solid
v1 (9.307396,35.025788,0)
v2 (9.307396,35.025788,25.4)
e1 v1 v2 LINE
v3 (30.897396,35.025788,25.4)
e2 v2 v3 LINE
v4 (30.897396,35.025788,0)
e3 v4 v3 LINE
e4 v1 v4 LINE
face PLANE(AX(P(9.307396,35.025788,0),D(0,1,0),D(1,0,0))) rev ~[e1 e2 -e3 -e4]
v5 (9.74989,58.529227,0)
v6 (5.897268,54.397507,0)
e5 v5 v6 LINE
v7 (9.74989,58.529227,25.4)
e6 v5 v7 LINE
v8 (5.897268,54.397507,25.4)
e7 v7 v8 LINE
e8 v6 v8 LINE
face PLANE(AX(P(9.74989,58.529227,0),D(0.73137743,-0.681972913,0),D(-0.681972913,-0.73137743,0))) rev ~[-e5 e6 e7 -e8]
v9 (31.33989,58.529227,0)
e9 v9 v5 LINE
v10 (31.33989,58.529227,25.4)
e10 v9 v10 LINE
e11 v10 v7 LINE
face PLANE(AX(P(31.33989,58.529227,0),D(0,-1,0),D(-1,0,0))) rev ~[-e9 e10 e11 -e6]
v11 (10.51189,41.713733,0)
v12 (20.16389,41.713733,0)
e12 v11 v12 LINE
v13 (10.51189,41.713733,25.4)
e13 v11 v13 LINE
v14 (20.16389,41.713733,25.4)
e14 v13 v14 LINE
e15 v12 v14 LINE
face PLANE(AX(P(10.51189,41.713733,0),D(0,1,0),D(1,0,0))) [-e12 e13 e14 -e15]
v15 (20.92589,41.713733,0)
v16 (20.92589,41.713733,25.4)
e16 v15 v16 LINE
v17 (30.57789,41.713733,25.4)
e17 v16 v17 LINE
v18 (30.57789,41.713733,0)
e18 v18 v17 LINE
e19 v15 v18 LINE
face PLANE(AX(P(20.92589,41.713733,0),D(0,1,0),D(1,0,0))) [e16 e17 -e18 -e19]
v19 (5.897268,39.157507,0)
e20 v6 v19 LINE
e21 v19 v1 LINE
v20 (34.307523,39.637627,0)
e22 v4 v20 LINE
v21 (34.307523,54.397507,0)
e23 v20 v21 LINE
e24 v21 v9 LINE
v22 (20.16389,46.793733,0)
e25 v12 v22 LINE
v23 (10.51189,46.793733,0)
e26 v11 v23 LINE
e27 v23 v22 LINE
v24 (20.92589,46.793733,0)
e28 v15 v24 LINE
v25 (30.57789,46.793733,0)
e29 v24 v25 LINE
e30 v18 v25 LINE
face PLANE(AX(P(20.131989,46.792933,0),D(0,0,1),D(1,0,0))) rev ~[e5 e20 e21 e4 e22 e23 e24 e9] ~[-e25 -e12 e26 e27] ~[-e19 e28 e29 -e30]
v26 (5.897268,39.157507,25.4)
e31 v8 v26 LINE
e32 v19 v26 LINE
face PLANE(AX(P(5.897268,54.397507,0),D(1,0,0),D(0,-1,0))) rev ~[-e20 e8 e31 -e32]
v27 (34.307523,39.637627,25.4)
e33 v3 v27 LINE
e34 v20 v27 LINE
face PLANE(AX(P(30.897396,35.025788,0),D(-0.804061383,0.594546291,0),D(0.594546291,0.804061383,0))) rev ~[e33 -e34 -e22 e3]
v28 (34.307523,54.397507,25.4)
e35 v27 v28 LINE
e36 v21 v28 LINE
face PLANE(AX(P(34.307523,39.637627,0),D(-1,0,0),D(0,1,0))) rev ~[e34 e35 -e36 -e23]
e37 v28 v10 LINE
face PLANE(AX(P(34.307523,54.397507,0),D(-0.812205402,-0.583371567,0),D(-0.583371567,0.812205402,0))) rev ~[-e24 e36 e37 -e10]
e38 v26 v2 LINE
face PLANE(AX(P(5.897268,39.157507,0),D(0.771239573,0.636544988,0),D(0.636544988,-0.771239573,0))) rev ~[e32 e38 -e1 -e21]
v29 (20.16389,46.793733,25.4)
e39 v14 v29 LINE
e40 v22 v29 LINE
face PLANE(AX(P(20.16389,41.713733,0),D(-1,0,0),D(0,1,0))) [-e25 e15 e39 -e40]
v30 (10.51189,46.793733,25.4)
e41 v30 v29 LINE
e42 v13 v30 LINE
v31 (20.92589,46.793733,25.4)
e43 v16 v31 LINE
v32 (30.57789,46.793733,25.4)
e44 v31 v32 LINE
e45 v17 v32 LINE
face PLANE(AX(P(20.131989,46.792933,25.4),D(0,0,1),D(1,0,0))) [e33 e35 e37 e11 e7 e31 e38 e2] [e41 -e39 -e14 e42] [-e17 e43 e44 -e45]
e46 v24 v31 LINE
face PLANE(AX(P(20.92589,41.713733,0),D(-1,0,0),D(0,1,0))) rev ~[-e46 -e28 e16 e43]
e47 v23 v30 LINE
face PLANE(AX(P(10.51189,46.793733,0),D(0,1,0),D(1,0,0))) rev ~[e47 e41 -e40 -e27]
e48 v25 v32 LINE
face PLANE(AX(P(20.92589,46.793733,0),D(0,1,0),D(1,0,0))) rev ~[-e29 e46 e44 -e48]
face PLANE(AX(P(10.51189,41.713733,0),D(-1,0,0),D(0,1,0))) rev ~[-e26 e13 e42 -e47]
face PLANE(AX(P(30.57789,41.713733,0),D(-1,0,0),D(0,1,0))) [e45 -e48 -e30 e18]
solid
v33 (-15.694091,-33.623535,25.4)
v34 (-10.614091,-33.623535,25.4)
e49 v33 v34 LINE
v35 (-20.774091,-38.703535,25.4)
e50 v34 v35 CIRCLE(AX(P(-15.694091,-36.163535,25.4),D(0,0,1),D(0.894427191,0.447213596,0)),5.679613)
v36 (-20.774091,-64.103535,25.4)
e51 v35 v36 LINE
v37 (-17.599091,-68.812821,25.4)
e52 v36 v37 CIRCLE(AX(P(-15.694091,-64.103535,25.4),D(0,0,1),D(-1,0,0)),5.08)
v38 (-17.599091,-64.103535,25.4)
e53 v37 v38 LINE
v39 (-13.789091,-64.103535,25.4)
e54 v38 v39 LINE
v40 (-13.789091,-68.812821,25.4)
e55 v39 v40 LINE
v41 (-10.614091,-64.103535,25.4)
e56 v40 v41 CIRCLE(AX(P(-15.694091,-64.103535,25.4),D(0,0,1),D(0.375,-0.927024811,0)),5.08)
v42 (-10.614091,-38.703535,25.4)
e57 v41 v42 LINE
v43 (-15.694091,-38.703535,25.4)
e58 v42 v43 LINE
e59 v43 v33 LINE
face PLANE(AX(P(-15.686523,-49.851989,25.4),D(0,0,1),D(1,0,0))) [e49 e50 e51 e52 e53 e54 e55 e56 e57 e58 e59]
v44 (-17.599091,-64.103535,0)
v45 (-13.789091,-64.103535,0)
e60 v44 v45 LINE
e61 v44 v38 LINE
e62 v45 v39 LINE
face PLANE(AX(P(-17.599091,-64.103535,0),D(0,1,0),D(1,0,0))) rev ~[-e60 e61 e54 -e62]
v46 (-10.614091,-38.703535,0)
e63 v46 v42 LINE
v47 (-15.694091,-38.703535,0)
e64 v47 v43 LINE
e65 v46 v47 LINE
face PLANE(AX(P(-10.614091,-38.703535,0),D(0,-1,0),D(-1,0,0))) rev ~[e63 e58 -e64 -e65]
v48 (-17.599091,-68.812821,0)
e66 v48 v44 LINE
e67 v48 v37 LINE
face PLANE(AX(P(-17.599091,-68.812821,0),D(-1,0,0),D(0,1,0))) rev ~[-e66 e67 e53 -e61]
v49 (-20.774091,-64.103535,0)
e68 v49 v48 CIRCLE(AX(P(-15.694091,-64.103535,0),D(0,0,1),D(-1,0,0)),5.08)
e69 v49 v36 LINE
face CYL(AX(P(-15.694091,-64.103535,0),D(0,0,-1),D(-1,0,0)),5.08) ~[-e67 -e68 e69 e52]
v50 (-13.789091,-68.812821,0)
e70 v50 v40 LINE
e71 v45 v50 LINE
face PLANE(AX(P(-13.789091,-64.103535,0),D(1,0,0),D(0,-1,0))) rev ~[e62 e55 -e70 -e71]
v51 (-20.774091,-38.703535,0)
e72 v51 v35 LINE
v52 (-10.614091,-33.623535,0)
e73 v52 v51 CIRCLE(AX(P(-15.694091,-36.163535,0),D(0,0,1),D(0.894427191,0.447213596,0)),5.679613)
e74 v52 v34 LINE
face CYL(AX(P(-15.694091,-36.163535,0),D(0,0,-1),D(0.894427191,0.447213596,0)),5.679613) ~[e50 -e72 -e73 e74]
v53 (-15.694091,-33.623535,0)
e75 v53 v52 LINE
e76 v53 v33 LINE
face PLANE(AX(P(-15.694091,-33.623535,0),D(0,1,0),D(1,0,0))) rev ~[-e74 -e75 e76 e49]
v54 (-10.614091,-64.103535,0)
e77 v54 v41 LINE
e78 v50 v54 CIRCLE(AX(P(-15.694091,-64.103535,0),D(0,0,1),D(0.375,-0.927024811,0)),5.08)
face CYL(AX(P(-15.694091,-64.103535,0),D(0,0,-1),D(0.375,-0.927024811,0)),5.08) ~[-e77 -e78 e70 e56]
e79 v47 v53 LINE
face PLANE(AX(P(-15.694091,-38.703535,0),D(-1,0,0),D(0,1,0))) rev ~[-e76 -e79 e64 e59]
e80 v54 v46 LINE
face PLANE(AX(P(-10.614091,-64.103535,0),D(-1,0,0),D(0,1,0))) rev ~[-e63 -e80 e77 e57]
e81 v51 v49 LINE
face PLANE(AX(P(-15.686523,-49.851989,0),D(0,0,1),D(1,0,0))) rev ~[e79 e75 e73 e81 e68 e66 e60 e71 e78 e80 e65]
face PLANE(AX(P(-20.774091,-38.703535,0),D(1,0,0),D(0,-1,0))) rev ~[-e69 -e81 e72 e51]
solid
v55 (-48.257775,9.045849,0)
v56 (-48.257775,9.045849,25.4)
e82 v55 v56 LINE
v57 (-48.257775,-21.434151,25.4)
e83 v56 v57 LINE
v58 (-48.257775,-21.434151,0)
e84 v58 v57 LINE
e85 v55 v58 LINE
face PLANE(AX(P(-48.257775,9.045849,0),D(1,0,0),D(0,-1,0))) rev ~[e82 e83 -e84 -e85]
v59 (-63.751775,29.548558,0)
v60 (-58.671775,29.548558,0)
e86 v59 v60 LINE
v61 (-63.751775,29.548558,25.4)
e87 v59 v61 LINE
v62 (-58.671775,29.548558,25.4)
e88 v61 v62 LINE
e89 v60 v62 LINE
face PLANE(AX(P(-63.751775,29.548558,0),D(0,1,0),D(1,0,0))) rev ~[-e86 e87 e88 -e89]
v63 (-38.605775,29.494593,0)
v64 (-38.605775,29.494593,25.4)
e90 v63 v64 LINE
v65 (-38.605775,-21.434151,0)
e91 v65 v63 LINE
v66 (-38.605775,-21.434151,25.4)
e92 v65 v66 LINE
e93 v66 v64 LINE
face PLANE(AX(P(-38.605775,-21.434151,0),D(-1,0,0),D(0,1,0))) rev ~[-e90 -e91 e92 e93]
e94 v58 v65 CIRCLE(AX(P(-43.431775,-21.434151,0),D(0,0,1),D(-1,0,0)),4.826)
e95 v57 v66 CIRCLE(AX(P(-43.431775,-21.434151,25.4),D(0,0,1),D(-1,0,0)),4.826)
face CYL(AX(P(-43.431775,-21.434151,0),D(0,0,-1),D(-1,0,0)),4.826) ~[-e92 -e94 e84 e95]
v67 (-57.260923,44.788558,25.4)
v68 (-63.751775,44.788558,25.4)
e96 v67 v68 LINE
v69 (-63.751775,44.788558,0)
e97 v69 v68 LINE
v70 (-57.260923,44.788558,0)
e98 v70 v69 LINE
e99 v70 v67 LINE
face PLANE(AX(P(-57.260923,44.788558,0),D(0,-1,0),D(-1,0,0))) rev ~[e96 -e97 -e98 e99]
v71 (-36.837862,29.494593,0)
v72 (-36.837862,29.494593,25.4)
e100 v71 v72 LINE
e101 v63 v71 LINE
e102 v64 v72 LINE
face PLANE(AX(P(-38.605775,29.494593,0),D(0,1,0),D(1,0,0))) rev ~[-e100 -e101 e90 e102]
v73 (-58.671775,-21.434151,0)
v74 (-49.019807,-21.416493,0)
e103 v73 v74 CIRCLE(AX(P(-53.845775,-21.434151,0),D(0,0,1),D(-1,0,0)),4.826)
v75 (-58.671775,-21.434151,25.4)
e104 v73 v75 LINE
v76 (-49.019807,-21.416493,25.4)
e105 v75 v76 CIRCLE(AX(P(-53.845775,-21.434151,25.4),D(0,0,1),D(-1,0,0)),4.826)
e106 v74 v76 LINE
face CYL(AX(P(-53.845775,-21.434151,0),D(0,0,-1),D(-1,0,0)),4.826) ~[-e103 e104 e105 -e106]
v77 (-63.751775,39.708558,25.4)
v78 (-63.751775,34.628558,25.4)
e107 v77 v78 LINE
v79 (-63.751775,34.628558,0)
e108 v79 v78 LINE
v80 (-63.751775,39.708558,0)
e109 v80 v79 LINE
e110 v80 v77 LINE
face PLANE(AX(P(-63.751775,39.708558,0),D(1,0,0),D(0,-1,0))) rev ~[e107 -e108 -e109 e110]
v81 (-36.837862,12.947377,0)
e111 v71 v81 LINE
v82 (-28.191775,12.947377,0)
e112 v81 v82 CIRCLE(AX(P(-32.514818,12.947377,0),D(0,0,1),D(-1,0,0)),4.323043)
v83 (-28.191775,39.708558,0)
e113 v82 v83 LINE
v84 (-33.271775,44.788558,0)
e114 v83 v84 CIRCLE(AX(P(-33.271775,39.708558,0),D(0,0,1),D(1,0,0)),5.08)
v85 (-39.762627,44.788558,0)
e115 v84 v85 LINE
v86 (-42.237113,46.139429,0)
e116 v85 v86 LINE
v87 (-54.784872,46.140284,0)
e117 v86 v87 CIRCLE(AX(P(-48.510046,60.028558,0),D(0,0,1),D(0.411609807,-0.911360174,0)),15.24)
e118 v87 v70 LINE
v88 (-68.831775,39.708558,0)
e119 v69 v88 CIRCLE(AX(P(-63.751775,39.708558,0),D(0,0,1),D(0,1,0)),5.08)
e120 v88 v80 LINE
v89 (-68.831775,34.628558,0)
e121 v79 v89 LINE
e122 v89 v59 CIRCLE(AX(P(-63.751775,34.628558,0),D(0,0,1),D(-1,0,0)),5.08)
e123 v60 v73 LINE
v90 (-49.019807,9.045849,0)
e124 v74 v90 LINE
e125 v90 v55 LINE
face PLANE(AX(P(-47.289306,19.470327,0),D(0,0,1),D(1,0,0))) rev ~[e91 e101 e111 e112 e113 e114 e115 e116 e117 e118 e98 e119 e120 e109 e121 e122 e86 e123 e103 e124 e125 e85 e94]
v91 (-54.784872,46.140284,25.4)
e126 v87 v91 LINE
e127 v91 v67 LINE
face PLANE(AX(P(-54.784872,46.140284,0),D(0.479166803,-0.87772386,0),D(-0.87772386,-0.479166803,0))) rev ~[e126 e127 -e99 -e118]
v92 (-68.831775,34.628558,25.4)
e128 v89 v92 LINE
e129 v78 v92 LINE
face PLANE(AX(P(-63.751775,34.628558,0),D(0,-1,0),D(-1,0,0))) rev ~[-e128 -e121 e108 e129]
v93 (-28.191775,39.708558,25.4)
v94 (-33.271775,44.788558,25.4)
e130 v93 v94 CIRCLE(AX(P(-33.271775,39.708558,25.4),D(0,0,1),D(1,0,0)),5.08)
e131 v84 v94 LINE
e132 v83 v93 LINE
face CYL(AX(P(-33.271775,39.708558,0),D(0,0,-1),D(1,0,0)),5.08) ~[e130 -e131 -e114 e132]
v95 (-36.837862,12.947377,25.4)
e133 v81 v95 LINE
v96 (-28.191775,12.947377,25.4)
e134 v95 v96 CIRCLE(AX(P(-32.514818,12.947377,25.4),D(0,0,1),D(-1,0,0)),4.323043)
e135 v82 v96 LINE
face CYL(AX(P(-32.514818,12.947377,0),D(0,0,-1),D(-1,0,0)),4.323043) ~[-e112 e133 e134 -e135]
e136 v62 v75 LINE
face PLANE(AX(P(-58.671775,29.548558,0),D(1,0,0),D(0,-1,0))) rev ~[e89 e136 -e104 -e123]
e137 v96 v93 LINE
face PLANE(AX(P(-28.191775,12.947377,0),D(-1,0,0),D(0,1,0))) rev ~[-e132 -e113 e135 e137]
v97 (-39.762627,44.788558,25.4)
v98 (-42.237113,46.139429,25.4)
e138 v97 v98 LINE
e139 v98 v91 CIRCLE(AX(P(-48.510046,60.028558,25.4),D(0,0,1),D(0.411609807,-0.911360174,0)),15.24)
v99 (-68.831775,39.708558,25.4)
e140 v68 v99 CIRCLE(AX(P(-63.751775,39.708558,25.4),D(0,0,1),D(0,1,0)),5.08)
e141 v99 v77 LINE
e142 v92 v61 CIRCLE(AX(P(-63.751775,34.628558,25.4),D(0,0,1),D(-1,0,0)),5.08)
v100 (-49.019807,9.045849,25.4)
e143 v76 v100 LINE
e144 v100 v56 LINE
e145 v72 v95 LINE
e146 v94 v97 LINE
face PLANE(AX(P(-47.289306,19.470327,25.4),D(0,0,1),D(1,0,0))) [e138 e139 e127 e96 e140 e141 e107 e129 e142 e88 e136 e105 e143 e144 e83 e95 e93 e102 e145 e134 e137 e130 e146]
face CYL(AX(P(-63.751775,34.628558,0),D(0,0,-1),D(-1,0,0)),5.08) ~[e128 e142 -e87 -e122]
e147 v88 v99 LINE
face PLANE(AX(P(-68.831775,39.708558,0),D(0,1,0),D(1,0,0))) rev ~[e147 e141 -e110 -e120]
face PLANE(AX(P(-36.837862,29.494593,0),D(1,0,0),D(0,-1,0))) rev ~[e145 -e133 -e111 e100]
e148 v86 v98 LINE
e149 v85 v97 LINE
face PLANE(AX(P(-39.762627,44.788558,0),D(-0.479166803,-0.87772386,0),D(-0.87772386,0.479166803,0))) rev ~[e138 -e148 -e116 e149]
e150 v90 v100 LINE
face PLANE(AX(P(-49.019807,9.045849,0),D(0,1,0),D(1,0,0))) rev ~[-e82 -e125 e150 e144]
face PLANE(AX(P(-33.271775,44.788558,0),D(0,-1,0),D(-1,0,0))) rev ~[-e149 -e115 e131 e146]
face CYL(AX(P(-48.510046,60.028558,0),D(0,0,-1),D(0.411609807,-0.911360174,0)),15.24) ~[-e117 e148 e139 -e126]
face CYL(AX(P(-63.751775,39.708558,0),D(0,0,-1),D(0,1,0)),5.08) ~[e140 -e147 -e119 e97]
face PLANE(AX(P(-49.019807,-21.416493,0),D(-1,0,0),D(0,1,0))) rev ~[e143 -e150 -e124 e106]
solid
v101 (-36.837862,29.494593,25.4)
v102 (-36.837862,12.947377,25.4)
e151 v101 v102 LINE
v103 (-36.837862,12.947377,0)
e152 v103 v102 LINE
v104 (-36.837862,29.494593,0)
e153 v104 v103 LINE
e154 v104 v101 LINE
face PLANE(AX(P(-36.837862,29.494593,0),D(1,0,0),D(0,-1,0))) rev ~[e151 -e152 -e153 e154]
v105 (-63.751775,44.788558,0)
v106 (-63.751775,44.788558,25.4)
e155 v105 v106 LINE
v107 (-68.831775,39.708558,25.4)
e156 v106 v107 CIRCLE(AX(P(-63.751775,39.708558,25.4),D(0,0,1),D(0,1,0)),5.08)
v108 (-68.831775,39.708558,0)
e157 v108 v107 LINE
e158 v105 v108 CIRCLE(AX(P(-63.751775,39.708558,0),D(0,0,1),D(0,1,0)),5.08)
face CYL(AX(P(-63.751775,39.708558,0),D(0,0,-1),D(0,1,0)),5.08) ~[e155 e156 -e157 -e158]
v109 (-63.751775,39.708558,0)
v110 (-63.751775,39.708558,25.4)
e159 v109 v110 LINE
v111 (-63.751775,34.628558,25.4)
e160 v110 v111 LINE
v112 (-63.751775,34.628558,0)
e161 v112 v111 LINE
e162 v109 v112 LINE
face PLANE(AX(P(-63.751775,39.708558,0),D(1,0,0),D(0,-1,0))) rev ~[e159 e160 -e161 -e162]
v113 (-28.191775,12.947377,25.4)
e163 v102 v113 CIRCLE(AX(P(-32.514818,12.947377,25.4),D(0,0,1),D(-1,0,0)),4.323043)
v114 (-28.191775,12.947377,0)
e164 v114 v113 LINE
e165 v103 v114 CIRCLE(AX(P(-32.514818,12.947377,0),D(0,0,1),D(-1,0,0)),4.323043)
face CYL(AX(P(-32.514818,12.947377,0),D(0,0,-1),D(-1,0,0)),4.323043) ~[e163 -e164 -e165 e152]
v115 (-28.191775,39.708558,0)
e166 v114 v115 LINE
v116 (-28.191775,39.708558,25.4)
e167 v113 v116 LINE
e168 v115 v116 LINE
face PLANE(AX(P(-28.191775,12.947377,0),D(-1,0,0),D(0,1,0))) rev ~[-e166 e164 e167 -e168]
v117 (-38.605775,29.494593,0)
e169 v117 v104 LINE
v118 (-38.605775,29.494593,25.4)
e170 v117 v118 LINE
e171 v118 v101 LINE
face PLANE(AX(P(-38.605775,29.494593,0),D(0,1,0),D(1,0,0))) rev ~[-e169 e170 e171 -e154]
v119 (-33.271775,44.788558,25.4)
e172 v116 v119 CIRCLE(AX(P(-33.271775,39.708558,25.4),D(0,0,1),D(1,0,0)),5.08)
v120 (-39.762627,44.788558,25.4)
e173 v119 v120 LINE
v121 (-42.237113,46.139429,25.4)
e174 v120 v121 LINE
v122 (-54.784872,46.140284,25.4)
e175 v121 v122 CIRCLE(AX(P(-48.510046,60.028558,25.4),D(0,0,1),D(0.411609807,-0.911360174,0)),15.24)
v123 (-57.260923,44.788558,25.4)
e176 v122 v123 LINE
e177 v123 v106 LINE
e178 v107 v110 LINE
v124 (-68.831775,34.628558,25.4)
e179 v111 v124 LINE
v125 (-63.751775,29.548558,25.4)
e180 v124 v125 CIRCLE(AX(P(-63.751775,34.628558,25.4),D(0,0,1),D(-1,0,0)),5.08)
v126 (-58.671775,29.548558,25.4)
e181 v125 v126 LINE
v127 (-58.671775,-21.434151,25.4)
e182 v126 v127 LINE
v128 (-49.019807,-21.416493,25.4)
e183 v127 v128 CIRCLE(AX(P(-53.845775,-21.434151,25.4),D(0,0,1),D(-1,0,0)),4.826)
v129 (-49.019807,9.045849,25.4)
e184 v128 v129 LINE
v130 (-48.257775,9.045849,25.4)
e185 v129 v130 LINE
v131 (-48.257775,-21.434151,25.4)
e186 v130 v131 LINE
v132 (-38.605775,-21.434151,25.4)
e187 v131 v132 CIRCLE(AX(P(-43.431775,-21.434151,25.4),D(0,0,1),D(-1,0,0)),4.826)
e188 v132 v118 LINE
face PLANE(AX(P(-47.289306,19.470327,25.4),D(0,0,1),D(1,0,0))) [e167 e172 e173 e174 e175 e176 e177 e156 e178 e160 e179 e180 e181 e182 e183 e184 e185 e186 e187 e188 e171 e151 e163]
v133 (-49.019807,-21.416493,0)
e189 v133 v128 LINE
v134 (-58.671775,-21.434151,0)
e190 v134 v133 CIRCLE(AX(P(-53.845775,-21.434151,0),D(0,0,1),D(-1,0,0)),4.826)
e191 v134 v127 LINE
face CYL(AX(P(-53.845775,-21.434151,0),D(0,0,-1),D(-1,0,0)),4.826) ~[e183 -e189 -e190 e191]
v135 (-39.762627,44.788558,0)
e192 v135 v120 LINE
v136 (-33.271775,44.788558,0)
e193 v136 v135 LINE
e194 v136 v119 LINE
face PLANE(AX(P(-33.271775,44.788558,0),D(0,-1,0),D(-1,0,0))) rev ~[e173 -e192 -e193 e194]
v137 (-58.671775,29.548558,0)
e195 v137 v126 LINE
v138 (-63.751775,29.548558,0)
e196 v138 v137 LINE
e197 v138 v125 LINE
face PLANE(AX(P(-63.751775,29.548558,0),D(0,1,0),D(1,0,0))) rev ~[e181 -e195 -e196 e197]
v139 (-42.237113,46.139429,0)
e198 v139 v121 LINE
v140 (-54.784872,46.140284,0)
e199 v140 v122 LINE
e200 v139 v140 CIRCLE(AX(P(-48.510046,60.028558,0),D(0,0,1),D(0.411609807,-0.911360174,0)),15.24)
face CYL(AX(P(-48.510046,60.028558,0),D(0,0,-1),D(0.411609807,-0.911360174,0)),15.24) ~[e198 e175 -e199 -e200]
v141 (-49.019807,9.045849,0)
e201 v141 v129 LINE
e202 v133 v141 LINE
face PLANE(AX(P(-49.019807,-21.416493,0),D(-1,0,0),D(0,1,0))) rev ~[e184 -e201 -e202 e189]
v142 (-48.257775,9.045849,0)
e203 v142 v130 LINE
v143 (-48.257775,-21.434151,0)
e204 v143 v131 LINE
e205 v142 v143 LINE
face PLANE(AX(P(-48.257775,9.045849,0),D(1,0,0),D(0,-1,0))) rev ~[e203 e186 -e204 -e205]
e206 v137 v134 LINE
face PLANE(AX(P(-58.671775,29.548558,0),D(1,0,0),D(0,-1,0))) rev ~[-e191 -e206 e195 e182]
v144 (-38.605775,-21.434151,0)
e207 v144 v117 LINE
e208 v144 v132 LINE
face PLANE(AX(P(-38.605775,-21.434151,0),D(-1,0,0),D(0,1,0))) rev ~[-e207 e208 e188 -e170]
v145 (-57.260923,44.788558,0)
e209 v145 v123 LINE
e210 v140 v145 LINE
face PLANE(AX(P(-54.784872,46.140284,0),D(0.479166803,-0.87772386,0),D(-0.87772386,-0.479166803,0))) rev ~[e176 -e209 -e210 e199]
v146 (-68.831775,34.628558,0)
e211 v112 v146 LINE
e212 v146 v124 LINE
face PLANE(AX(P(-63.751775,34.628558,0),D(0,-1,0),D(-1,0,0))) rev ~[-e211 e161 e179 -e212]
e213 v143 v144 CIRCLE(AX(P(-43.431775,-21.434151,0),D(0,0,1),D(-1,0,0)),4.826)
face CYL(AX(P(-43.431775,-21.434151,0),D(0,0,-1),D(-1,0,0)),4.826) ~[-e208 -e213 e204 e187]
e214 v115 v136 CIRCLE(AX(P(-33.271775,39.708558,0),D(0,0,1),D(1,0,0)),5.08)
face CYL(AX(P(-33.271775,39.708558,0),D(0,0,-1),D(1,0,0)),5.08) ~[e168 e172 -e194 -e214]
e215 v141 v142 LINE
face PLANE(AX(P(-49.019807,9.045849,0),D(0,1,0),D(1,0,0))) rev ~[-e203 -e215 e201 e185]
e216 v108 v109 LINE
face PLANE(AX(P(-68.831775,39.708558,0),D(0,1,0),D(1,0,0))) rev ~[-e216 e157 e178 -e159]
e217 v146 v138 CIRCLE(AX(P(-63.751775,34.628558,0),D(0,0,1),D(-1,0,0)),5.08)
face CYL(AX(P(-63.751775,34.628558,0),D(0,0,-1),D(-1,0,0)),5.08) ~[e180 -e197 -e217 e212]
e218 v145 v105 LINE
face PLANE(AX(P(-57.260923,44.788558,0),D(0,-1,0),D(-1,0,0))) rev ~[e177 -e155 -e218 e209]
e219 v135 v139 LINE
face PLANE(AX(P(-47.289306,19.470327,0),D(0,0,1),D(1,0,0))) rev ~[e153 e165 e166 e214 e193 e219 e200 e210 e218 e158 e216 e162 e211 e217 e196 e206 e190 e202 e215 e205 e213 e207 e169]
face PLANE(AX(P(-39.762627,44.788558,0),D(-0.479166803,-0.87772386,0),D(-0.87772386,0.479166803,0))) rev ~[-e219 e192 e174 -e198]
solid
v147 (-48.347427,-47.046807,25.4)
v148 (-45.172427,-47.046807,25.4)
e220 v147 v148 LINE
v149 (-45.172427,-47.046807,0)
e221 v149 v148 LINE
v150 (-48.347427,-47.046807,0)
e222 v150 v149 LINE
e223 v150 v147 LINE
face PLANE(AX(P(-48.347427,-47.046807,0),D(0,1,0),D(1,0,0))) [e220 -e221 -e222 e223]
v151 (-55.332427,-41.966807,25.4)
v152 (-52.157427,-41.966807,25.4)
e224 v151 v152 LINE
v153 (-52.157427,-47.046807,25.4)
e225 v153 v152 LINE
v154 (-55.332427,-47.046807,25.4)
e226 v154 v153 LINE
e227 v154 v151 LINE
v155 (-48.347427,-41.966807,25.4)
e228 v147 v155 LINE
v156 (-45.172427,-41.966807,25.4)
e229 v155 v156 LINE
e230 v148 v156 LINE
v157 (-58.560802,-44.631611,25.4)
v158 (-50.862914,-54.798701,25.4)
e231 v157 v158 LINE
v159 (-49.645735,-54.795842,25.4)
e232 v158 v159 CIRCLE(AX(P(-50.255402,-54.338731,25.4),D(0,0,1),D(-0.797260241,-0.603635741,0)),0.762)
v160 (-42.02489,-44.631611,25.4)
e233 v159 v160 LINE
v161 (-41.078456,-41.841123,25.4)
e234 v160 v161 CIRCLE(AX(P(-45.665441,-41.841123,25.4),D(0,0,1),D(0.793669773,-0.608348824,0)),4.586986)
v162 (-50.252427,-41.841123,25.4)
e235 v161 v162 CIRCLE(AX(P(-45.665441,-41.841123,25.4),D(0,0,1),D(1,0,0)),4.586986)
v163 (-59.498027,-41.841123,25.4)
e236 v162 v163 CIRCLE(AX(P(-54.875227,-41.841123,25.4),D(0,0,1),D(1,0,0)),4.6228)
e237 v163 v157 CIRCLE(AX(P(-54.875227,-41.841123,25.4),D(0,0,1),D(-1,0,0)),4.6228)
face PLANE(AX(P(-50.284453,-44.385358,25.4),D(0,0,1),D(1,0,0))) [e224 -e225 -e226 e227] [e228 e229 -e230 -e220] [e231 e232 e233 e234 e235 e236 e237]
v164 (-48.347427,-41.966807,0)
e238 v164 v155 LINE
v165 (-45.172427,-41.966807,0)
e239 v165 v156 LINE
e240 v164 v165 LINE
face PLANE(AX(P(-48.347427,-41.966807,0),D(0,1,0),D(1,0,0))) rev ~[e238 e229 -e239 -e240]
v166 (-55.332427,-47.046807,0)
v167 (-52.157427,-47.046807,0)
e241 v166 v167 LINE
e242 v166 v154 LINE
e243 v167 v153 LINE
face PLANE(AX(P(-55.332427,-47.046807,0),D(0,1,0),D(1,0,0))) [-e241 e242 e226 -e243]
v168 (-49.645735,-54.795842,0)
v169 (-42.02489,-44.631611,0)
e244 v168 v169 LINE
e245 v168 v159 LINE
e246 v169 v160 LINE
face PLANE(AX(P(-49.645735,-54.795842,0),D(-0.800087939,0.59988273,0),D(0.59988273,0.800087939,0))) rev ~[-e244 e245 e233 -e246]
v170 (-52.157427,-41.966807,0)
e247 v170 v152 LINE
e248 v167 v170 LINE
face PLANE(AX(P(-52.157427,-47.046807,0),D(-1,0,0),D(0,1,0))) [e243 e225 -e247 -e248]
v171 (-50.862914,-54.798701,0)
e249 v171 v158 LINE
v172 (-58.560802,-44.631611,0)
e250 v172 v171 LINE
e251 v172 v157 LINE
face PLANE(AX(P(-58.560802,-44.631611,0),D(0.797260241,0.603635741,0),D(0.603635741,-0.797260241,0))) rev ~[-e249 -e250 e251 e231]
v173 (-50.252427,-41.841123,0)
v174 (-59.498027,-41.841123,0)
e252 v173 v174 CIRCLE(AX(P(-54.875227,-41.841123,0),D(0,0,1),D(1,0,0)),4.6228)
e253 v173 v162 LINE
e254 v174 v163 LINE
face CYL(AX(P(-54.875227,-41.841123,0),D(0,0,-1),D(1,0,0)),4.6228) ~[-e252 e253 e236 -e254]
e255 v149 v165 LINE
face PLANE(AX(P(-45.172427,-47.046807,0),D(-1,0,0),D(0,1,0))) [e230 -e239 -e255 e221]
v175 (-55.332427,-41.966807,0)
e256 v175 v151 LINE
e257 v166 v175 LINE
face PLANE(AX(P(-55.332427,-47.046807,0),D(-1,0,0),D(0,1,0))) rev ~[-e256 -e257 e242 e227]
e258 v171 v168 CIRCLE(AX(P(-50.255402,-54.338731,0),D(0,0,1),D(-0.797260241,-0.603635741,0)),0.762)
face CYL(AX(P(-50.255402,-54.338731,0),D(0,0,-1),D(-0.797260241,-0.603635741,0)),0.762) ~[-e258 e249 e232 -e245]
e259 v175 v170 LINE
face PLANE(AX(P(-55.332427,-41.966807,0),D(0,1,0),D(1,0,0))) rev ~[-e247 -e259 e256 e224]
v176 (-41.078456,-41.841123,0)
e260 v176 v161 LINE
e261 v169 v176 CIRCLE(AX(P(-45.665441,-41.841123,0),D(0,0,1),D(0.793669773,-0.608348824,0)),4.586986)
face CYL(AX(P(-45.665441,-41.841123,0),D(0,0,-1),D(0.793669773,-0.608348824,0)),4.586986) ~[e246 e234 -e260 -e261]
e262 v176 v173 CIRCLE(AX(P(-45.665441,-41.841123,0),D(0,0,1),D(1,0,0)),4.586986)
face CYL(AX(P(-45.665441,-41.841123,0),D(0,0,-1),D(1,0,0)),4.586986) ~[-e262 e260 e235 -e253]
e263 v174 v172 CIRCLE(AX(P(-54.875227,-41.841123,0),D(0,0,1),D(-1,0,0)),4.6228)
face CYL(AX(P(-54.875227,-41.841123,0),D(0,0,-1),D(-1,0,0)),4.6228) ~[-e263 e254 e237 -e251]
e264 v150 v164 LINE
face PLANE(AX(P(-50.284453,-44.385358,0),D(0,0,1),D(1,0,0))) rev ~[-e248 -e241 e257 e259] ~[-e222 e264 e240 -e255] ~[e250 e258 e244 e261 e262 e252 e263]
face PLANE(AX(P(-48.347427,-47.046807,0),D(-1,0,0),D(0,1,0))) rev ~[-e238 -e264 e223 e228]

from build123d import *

# Parameters (mm, degrees)
F3_DEPTH = 25.4
F0_W     = 9.652
F0_H     = 5.08
F1_W     = 3.175
F1_H     = 5.08


with BuildPart() as f3:
    # F0 (on Top) → F3 (new body)
    with BuildSketch(Plane.XY):
        with BuildLine():
            Line((-28.1917748163, 12.9473765527), (-28.1917748163, 39.7085584502))
            ThreePointArc((-28.1917748163, 39.7085584502), (-29.6796723678, 43.3006608987), (-33.2717748163, 44.7885584502))
            Line((-33.2717748163, 44.7885584502), (-39.762626545, 44.7885584502))
            Line((-39.762626545, 44.7885584502), (-42.2371126216, 46.139429306))
            ThreePointArc((-42.2371126216, 46.139429306), (-48.509008117, 75.2685585129), (-54.7848715272, 46.1402839345))
            Line((-54.7848715272, 46.1402839345), (-57.2609230876, 44.7885584502))
            Line((-57.2609230876, 44.7885584502), (-63.7517748163, 44.7885584502))
            ThreePointArc((-63.7517748163, 44.7885584502), (-67.3438772647, 43.3006608987), (-68.8317748163, 39.7085584502))
            Line((-68.8317748163, 39.7085584502), (-63.7517748163, 39.7085584502))
            Line((-63.7517748163, 39.7085584502), (-63.7517748163, 34.6285584502))
            Line((-63.7517748163, 34.6285584502), (-68.8317748163, 34.6285584502))
            ThreePointArc((-68.8317748163, 34.6285584502), (-67.3438772647, 31.0364560018), (-63.7517748163, 29.5485584502))
            Line((-63.7517748163, 29.5485584502), (-58.6717748163, 29.5485584502))
            Line((-58.6717748163, 29.5485584502), (-58.6717748163, -21.4341506362))
            ThreePointArc((-58.6717748163, -21.4341506362), (-53.8369461328, -26.2601425606), (-49.0198071187, -21.4164932988))
            Line((-49.0198071187, -21.4164932988), (-49.0198071187, 9.0458493638))
            Line((-49.0198071187, 9.0458493638), (-48.2577748163, 9.0458493638))
            Line((-48.2577748163, 9.0458493638), (-48.2577748163, -21.4341506362))
            ThreePointArc((-48.2577748163, -21.4341506362), (-43.4317748163, -26.2601506362), (-38.6057748163, -21.4341506362))
            Line((-38.6057748163, -21.4341506362), (-38.6057748163, 12.9473765527))
            Line((-38.6057748163, 12.9473765527), (-38.6057748163, 29.4945929002))
            Line((-38.6057748163, 29.4945929002), (-36.8378617594, 29.4945929002))
            Line((-36.8378617594, 29.4945929002), (-36.8378617594, 12.9473765527))
            ThreePointArc((-36.8378617594, 12.9473765527), (-32.5148182878, 8.6243330811), (-28.1917748163, 12.9473765527))
        make_face()
    extrude(amount=F3_DEPTH)


with BuildPart() as f3b:
    # F0 (on Top) → F3, piece 2 (new body)
    with BuildSketch(Plane.XY):
        with BuildLine():
            Line((-15.6940906626, -33.6235351861), (-10.6140906626, -33.6235351861))
            ThreePointArc((-10.6140906626, -33.6235351861), (-18.2340906626, -31.0835351861), (-20.7740906626, -38.7035351861))
            Line((-20.7740906626, -38.7035351861), (-20.7740906626, -64.1035351861))
            ThreePointArc((-20.7740906626, -64.1035351861), (-19.9062041463, -66.9433415175), (-17.5990906626, -68.8128212254))
            Line((-17.5990906626, -68.8128212254), (-17.5990906626, -64.1035351861))
            Line((-17.5990906626, -64.1035351861), (-15.6940906626, -64.1035351861))
            Line((-15.6940906626, -64.1035351861), (-13.7890906626, -64.1035351861))
            Line((-13.7890906626, -64.1035351861), (-13.7890906626, -68.8128212254))
            ThreePointArc((-13.7890906626, -68.8128212254), (-11.4819771788, -66.9433415175), (-10.6140906626, -64.1035351861))
            Line((-10.6140906626, -64.1035351861), (-10.6140906626, -38.7035351861))
            Line((-10.6140906626, -38.7035351861), (-15.6940906626, -38.7035351861))
            Line((-15.6940906626, -38.7035351861), (-15.6940906626, -33.6235351861))
        make_face()
    extrude(amount=F3_DEPTH)


with BuildPart() as f3c:
    # F0 (on Top) → F3, piece 3 (new body)
    with BuildSketch(Plane.XY):
        Polygon((30.8973955526, 35.0257876711), (34.307523109, 39.6376268461), (34.307523109, 49.1508445693), (34.307523109, 54.3975071411), (31.3398899744, 58.5292266111), (13.4937340529, 58.5292266111), (9.7498899744, 58.5292266111), (5.8972679963, 54.3975071411), (5.8972679963, 49.1707248643), (5.8972679963, 48.6707248643), (5.8972679963, 39.1575071411), (9.3073955526, 35.0257876711), (13.6428794689, 35.0257876711), (14.216993131, 35.0257876711), align=None)
        with Locations((15.3378899744, 44.2537332261)):
            Rectangle(F0_W, F0_H, mode=Mode.SUBTRACT)
        with Locations((25.7518899744, 44.2537332261)):
            Rectangle(F0_W, F0_H, mode=Mode.SUBTRACT)
    extrude(amount=F3_DEPTH)


with BuildPart() as f3d:
    # F2 (on face) → F3, piece 4 (new body)
    with BuildSketch(Plane.XY):
        with BuildLine():
            ThreePointArc((-36.8378617594, 12.9473765527), (-32.5148182878, 8.6243330811), (-28.1917748163, 12.9473765527))
            Line((-28.1917748163, 12.9473765527), (-28.1917748163, 39.7085584502))
            ThreePointArc((-28.1917748163, 39.7085584502), (-29.6796723678, 43.3006608987), (-33.2717748163, 44.7885584502))
            Line((-33.2717748163, 44.7885584502), (-39.762626545, 44.7885584502))
            Line((-39.762626545, 44.7885584502), (-42.2371126216, 46.139429306))
            ThreePointArc((-42.2371126216, 46.139429306), (-48.509008117, 75.2685585129), (-54.7848715272, 46.1402839345))
            Line((-54.7848715272, 46.1402839345), (-57.2609230876, 44.7885584502))
            Line((-57.2609230876, 44.7885584502), (-63.7517748163, 44.7885584502))
            ThreePointArc((-63.7517748163, 44.7885584502), (-67.3438772647, 43.3006608987), (-68.8317748163, 39.7085584502))
            Line((-68.8317748163, 39.7085584502), (-63.7517748163, 39.7085584502))
            Line((-63.7517748163, 39.7085584502), (-63.7517748163, 34.6285584502))
            Line((-63.7517748163, 34.6285584502), (-68.8317748163, 34.6285584502))
            ThreePointArc((-68.8317748163, 34.6285584502), (-67.3438772647, 31.0364560018), (-63.7517748163, 29.5485584502))
            Line((-63.7517748163, 29.5485584502), (-58.6717748163, 29.5485584502))
            Line((-58.6717748163, 29.5485584502), (-58.6717748163, -21.4341506362))
            ThreePointArc((-58.6717748163, -21.4341506362), (-53.8369461328, -26.2601425606), (-49.0198071187, -21.4164932988))
            Line((-49.0198071187, -21.4164932988), (-49.0198071187, 9.0458493638))
            Line((-49.0198071187, 9.0458493638), (-48.2577748163, 9.0458493638))
            Line((-48.2577748163, 9.0458493638), (-48.2577748163, -21.4341506362))
            ThreePointArc((-48.2577748163, -21.4341506362), (-43.4317748163, -26.2601506362), (-38.6057748163, -21.4341506362))
            Line((-38.6057748163, -21.4341506362), (-38.6057748163, 12.9473765527))
            Line((-38.6057748163, 12.9473765527), (-38.6057748163, 29.4945929002))
            Line((-38.6057748163, 29.4945929002), (-36.8378617594, 29.4945929002))
            Line((-36.8378617594, 29.4945929002), (-36.8378617594, 12.9473765527))
        make_face()
    extrude(amount=F3_DEPTH)


with BuildPart() as f3e:
    # F1 (on Top) → F3, piece 5 (new body)
    with BuildSketch(Plane.XY):
        with BuildLine():
            ThreePointArc((-50.252426967, -41.8411232531), (-54.875226967, -37.2183232531), (-59.498026967, -41.8411232531))
            ThreePointArc((-59.498026967, -41.8411232531), (-59.2574612316, -43.3129597558), (-58.5608016099, -44.6316105568))
            Line((-58.5608016099, -44.6316105568), (-50.8629144293, -54.7987013579))
            ThreePointArc((-50.8629144293, -54.7987013579), (-50.2536117915, -55.10072882), (-49.6457351157, -54.7958415631))
            Line((-49.6457351157, -54.7958415631), (-42.0248895306, -44.6316105568))
            ThreePointArc((-42.0248895306, -44.6316105568), (-41.3215032913, -43.3144321396), (-41.0784557462, -41.8411232531))
            ThreePointArc((-41.0784557462, -41.8411232531), (-45.6654413566, -37.2541376427), (-50.252426967, -41.8411232531))
        make_face()
        with Locations((-53.744926967, -44.5068070035)):
            Rectangle(F1_W, F1_H, mode=Mode.SUBTRACT)
        with Locations((-46.759926967, -44.5068070035)):
            Rectangle(F1_W, F1_H, mode=Mode.SUBTRACT)
    extrude(amount=F3_DEPTH)


solid = Compound([f3.part, f3b.part, f3c.part, f3d.part, f3e.part])
